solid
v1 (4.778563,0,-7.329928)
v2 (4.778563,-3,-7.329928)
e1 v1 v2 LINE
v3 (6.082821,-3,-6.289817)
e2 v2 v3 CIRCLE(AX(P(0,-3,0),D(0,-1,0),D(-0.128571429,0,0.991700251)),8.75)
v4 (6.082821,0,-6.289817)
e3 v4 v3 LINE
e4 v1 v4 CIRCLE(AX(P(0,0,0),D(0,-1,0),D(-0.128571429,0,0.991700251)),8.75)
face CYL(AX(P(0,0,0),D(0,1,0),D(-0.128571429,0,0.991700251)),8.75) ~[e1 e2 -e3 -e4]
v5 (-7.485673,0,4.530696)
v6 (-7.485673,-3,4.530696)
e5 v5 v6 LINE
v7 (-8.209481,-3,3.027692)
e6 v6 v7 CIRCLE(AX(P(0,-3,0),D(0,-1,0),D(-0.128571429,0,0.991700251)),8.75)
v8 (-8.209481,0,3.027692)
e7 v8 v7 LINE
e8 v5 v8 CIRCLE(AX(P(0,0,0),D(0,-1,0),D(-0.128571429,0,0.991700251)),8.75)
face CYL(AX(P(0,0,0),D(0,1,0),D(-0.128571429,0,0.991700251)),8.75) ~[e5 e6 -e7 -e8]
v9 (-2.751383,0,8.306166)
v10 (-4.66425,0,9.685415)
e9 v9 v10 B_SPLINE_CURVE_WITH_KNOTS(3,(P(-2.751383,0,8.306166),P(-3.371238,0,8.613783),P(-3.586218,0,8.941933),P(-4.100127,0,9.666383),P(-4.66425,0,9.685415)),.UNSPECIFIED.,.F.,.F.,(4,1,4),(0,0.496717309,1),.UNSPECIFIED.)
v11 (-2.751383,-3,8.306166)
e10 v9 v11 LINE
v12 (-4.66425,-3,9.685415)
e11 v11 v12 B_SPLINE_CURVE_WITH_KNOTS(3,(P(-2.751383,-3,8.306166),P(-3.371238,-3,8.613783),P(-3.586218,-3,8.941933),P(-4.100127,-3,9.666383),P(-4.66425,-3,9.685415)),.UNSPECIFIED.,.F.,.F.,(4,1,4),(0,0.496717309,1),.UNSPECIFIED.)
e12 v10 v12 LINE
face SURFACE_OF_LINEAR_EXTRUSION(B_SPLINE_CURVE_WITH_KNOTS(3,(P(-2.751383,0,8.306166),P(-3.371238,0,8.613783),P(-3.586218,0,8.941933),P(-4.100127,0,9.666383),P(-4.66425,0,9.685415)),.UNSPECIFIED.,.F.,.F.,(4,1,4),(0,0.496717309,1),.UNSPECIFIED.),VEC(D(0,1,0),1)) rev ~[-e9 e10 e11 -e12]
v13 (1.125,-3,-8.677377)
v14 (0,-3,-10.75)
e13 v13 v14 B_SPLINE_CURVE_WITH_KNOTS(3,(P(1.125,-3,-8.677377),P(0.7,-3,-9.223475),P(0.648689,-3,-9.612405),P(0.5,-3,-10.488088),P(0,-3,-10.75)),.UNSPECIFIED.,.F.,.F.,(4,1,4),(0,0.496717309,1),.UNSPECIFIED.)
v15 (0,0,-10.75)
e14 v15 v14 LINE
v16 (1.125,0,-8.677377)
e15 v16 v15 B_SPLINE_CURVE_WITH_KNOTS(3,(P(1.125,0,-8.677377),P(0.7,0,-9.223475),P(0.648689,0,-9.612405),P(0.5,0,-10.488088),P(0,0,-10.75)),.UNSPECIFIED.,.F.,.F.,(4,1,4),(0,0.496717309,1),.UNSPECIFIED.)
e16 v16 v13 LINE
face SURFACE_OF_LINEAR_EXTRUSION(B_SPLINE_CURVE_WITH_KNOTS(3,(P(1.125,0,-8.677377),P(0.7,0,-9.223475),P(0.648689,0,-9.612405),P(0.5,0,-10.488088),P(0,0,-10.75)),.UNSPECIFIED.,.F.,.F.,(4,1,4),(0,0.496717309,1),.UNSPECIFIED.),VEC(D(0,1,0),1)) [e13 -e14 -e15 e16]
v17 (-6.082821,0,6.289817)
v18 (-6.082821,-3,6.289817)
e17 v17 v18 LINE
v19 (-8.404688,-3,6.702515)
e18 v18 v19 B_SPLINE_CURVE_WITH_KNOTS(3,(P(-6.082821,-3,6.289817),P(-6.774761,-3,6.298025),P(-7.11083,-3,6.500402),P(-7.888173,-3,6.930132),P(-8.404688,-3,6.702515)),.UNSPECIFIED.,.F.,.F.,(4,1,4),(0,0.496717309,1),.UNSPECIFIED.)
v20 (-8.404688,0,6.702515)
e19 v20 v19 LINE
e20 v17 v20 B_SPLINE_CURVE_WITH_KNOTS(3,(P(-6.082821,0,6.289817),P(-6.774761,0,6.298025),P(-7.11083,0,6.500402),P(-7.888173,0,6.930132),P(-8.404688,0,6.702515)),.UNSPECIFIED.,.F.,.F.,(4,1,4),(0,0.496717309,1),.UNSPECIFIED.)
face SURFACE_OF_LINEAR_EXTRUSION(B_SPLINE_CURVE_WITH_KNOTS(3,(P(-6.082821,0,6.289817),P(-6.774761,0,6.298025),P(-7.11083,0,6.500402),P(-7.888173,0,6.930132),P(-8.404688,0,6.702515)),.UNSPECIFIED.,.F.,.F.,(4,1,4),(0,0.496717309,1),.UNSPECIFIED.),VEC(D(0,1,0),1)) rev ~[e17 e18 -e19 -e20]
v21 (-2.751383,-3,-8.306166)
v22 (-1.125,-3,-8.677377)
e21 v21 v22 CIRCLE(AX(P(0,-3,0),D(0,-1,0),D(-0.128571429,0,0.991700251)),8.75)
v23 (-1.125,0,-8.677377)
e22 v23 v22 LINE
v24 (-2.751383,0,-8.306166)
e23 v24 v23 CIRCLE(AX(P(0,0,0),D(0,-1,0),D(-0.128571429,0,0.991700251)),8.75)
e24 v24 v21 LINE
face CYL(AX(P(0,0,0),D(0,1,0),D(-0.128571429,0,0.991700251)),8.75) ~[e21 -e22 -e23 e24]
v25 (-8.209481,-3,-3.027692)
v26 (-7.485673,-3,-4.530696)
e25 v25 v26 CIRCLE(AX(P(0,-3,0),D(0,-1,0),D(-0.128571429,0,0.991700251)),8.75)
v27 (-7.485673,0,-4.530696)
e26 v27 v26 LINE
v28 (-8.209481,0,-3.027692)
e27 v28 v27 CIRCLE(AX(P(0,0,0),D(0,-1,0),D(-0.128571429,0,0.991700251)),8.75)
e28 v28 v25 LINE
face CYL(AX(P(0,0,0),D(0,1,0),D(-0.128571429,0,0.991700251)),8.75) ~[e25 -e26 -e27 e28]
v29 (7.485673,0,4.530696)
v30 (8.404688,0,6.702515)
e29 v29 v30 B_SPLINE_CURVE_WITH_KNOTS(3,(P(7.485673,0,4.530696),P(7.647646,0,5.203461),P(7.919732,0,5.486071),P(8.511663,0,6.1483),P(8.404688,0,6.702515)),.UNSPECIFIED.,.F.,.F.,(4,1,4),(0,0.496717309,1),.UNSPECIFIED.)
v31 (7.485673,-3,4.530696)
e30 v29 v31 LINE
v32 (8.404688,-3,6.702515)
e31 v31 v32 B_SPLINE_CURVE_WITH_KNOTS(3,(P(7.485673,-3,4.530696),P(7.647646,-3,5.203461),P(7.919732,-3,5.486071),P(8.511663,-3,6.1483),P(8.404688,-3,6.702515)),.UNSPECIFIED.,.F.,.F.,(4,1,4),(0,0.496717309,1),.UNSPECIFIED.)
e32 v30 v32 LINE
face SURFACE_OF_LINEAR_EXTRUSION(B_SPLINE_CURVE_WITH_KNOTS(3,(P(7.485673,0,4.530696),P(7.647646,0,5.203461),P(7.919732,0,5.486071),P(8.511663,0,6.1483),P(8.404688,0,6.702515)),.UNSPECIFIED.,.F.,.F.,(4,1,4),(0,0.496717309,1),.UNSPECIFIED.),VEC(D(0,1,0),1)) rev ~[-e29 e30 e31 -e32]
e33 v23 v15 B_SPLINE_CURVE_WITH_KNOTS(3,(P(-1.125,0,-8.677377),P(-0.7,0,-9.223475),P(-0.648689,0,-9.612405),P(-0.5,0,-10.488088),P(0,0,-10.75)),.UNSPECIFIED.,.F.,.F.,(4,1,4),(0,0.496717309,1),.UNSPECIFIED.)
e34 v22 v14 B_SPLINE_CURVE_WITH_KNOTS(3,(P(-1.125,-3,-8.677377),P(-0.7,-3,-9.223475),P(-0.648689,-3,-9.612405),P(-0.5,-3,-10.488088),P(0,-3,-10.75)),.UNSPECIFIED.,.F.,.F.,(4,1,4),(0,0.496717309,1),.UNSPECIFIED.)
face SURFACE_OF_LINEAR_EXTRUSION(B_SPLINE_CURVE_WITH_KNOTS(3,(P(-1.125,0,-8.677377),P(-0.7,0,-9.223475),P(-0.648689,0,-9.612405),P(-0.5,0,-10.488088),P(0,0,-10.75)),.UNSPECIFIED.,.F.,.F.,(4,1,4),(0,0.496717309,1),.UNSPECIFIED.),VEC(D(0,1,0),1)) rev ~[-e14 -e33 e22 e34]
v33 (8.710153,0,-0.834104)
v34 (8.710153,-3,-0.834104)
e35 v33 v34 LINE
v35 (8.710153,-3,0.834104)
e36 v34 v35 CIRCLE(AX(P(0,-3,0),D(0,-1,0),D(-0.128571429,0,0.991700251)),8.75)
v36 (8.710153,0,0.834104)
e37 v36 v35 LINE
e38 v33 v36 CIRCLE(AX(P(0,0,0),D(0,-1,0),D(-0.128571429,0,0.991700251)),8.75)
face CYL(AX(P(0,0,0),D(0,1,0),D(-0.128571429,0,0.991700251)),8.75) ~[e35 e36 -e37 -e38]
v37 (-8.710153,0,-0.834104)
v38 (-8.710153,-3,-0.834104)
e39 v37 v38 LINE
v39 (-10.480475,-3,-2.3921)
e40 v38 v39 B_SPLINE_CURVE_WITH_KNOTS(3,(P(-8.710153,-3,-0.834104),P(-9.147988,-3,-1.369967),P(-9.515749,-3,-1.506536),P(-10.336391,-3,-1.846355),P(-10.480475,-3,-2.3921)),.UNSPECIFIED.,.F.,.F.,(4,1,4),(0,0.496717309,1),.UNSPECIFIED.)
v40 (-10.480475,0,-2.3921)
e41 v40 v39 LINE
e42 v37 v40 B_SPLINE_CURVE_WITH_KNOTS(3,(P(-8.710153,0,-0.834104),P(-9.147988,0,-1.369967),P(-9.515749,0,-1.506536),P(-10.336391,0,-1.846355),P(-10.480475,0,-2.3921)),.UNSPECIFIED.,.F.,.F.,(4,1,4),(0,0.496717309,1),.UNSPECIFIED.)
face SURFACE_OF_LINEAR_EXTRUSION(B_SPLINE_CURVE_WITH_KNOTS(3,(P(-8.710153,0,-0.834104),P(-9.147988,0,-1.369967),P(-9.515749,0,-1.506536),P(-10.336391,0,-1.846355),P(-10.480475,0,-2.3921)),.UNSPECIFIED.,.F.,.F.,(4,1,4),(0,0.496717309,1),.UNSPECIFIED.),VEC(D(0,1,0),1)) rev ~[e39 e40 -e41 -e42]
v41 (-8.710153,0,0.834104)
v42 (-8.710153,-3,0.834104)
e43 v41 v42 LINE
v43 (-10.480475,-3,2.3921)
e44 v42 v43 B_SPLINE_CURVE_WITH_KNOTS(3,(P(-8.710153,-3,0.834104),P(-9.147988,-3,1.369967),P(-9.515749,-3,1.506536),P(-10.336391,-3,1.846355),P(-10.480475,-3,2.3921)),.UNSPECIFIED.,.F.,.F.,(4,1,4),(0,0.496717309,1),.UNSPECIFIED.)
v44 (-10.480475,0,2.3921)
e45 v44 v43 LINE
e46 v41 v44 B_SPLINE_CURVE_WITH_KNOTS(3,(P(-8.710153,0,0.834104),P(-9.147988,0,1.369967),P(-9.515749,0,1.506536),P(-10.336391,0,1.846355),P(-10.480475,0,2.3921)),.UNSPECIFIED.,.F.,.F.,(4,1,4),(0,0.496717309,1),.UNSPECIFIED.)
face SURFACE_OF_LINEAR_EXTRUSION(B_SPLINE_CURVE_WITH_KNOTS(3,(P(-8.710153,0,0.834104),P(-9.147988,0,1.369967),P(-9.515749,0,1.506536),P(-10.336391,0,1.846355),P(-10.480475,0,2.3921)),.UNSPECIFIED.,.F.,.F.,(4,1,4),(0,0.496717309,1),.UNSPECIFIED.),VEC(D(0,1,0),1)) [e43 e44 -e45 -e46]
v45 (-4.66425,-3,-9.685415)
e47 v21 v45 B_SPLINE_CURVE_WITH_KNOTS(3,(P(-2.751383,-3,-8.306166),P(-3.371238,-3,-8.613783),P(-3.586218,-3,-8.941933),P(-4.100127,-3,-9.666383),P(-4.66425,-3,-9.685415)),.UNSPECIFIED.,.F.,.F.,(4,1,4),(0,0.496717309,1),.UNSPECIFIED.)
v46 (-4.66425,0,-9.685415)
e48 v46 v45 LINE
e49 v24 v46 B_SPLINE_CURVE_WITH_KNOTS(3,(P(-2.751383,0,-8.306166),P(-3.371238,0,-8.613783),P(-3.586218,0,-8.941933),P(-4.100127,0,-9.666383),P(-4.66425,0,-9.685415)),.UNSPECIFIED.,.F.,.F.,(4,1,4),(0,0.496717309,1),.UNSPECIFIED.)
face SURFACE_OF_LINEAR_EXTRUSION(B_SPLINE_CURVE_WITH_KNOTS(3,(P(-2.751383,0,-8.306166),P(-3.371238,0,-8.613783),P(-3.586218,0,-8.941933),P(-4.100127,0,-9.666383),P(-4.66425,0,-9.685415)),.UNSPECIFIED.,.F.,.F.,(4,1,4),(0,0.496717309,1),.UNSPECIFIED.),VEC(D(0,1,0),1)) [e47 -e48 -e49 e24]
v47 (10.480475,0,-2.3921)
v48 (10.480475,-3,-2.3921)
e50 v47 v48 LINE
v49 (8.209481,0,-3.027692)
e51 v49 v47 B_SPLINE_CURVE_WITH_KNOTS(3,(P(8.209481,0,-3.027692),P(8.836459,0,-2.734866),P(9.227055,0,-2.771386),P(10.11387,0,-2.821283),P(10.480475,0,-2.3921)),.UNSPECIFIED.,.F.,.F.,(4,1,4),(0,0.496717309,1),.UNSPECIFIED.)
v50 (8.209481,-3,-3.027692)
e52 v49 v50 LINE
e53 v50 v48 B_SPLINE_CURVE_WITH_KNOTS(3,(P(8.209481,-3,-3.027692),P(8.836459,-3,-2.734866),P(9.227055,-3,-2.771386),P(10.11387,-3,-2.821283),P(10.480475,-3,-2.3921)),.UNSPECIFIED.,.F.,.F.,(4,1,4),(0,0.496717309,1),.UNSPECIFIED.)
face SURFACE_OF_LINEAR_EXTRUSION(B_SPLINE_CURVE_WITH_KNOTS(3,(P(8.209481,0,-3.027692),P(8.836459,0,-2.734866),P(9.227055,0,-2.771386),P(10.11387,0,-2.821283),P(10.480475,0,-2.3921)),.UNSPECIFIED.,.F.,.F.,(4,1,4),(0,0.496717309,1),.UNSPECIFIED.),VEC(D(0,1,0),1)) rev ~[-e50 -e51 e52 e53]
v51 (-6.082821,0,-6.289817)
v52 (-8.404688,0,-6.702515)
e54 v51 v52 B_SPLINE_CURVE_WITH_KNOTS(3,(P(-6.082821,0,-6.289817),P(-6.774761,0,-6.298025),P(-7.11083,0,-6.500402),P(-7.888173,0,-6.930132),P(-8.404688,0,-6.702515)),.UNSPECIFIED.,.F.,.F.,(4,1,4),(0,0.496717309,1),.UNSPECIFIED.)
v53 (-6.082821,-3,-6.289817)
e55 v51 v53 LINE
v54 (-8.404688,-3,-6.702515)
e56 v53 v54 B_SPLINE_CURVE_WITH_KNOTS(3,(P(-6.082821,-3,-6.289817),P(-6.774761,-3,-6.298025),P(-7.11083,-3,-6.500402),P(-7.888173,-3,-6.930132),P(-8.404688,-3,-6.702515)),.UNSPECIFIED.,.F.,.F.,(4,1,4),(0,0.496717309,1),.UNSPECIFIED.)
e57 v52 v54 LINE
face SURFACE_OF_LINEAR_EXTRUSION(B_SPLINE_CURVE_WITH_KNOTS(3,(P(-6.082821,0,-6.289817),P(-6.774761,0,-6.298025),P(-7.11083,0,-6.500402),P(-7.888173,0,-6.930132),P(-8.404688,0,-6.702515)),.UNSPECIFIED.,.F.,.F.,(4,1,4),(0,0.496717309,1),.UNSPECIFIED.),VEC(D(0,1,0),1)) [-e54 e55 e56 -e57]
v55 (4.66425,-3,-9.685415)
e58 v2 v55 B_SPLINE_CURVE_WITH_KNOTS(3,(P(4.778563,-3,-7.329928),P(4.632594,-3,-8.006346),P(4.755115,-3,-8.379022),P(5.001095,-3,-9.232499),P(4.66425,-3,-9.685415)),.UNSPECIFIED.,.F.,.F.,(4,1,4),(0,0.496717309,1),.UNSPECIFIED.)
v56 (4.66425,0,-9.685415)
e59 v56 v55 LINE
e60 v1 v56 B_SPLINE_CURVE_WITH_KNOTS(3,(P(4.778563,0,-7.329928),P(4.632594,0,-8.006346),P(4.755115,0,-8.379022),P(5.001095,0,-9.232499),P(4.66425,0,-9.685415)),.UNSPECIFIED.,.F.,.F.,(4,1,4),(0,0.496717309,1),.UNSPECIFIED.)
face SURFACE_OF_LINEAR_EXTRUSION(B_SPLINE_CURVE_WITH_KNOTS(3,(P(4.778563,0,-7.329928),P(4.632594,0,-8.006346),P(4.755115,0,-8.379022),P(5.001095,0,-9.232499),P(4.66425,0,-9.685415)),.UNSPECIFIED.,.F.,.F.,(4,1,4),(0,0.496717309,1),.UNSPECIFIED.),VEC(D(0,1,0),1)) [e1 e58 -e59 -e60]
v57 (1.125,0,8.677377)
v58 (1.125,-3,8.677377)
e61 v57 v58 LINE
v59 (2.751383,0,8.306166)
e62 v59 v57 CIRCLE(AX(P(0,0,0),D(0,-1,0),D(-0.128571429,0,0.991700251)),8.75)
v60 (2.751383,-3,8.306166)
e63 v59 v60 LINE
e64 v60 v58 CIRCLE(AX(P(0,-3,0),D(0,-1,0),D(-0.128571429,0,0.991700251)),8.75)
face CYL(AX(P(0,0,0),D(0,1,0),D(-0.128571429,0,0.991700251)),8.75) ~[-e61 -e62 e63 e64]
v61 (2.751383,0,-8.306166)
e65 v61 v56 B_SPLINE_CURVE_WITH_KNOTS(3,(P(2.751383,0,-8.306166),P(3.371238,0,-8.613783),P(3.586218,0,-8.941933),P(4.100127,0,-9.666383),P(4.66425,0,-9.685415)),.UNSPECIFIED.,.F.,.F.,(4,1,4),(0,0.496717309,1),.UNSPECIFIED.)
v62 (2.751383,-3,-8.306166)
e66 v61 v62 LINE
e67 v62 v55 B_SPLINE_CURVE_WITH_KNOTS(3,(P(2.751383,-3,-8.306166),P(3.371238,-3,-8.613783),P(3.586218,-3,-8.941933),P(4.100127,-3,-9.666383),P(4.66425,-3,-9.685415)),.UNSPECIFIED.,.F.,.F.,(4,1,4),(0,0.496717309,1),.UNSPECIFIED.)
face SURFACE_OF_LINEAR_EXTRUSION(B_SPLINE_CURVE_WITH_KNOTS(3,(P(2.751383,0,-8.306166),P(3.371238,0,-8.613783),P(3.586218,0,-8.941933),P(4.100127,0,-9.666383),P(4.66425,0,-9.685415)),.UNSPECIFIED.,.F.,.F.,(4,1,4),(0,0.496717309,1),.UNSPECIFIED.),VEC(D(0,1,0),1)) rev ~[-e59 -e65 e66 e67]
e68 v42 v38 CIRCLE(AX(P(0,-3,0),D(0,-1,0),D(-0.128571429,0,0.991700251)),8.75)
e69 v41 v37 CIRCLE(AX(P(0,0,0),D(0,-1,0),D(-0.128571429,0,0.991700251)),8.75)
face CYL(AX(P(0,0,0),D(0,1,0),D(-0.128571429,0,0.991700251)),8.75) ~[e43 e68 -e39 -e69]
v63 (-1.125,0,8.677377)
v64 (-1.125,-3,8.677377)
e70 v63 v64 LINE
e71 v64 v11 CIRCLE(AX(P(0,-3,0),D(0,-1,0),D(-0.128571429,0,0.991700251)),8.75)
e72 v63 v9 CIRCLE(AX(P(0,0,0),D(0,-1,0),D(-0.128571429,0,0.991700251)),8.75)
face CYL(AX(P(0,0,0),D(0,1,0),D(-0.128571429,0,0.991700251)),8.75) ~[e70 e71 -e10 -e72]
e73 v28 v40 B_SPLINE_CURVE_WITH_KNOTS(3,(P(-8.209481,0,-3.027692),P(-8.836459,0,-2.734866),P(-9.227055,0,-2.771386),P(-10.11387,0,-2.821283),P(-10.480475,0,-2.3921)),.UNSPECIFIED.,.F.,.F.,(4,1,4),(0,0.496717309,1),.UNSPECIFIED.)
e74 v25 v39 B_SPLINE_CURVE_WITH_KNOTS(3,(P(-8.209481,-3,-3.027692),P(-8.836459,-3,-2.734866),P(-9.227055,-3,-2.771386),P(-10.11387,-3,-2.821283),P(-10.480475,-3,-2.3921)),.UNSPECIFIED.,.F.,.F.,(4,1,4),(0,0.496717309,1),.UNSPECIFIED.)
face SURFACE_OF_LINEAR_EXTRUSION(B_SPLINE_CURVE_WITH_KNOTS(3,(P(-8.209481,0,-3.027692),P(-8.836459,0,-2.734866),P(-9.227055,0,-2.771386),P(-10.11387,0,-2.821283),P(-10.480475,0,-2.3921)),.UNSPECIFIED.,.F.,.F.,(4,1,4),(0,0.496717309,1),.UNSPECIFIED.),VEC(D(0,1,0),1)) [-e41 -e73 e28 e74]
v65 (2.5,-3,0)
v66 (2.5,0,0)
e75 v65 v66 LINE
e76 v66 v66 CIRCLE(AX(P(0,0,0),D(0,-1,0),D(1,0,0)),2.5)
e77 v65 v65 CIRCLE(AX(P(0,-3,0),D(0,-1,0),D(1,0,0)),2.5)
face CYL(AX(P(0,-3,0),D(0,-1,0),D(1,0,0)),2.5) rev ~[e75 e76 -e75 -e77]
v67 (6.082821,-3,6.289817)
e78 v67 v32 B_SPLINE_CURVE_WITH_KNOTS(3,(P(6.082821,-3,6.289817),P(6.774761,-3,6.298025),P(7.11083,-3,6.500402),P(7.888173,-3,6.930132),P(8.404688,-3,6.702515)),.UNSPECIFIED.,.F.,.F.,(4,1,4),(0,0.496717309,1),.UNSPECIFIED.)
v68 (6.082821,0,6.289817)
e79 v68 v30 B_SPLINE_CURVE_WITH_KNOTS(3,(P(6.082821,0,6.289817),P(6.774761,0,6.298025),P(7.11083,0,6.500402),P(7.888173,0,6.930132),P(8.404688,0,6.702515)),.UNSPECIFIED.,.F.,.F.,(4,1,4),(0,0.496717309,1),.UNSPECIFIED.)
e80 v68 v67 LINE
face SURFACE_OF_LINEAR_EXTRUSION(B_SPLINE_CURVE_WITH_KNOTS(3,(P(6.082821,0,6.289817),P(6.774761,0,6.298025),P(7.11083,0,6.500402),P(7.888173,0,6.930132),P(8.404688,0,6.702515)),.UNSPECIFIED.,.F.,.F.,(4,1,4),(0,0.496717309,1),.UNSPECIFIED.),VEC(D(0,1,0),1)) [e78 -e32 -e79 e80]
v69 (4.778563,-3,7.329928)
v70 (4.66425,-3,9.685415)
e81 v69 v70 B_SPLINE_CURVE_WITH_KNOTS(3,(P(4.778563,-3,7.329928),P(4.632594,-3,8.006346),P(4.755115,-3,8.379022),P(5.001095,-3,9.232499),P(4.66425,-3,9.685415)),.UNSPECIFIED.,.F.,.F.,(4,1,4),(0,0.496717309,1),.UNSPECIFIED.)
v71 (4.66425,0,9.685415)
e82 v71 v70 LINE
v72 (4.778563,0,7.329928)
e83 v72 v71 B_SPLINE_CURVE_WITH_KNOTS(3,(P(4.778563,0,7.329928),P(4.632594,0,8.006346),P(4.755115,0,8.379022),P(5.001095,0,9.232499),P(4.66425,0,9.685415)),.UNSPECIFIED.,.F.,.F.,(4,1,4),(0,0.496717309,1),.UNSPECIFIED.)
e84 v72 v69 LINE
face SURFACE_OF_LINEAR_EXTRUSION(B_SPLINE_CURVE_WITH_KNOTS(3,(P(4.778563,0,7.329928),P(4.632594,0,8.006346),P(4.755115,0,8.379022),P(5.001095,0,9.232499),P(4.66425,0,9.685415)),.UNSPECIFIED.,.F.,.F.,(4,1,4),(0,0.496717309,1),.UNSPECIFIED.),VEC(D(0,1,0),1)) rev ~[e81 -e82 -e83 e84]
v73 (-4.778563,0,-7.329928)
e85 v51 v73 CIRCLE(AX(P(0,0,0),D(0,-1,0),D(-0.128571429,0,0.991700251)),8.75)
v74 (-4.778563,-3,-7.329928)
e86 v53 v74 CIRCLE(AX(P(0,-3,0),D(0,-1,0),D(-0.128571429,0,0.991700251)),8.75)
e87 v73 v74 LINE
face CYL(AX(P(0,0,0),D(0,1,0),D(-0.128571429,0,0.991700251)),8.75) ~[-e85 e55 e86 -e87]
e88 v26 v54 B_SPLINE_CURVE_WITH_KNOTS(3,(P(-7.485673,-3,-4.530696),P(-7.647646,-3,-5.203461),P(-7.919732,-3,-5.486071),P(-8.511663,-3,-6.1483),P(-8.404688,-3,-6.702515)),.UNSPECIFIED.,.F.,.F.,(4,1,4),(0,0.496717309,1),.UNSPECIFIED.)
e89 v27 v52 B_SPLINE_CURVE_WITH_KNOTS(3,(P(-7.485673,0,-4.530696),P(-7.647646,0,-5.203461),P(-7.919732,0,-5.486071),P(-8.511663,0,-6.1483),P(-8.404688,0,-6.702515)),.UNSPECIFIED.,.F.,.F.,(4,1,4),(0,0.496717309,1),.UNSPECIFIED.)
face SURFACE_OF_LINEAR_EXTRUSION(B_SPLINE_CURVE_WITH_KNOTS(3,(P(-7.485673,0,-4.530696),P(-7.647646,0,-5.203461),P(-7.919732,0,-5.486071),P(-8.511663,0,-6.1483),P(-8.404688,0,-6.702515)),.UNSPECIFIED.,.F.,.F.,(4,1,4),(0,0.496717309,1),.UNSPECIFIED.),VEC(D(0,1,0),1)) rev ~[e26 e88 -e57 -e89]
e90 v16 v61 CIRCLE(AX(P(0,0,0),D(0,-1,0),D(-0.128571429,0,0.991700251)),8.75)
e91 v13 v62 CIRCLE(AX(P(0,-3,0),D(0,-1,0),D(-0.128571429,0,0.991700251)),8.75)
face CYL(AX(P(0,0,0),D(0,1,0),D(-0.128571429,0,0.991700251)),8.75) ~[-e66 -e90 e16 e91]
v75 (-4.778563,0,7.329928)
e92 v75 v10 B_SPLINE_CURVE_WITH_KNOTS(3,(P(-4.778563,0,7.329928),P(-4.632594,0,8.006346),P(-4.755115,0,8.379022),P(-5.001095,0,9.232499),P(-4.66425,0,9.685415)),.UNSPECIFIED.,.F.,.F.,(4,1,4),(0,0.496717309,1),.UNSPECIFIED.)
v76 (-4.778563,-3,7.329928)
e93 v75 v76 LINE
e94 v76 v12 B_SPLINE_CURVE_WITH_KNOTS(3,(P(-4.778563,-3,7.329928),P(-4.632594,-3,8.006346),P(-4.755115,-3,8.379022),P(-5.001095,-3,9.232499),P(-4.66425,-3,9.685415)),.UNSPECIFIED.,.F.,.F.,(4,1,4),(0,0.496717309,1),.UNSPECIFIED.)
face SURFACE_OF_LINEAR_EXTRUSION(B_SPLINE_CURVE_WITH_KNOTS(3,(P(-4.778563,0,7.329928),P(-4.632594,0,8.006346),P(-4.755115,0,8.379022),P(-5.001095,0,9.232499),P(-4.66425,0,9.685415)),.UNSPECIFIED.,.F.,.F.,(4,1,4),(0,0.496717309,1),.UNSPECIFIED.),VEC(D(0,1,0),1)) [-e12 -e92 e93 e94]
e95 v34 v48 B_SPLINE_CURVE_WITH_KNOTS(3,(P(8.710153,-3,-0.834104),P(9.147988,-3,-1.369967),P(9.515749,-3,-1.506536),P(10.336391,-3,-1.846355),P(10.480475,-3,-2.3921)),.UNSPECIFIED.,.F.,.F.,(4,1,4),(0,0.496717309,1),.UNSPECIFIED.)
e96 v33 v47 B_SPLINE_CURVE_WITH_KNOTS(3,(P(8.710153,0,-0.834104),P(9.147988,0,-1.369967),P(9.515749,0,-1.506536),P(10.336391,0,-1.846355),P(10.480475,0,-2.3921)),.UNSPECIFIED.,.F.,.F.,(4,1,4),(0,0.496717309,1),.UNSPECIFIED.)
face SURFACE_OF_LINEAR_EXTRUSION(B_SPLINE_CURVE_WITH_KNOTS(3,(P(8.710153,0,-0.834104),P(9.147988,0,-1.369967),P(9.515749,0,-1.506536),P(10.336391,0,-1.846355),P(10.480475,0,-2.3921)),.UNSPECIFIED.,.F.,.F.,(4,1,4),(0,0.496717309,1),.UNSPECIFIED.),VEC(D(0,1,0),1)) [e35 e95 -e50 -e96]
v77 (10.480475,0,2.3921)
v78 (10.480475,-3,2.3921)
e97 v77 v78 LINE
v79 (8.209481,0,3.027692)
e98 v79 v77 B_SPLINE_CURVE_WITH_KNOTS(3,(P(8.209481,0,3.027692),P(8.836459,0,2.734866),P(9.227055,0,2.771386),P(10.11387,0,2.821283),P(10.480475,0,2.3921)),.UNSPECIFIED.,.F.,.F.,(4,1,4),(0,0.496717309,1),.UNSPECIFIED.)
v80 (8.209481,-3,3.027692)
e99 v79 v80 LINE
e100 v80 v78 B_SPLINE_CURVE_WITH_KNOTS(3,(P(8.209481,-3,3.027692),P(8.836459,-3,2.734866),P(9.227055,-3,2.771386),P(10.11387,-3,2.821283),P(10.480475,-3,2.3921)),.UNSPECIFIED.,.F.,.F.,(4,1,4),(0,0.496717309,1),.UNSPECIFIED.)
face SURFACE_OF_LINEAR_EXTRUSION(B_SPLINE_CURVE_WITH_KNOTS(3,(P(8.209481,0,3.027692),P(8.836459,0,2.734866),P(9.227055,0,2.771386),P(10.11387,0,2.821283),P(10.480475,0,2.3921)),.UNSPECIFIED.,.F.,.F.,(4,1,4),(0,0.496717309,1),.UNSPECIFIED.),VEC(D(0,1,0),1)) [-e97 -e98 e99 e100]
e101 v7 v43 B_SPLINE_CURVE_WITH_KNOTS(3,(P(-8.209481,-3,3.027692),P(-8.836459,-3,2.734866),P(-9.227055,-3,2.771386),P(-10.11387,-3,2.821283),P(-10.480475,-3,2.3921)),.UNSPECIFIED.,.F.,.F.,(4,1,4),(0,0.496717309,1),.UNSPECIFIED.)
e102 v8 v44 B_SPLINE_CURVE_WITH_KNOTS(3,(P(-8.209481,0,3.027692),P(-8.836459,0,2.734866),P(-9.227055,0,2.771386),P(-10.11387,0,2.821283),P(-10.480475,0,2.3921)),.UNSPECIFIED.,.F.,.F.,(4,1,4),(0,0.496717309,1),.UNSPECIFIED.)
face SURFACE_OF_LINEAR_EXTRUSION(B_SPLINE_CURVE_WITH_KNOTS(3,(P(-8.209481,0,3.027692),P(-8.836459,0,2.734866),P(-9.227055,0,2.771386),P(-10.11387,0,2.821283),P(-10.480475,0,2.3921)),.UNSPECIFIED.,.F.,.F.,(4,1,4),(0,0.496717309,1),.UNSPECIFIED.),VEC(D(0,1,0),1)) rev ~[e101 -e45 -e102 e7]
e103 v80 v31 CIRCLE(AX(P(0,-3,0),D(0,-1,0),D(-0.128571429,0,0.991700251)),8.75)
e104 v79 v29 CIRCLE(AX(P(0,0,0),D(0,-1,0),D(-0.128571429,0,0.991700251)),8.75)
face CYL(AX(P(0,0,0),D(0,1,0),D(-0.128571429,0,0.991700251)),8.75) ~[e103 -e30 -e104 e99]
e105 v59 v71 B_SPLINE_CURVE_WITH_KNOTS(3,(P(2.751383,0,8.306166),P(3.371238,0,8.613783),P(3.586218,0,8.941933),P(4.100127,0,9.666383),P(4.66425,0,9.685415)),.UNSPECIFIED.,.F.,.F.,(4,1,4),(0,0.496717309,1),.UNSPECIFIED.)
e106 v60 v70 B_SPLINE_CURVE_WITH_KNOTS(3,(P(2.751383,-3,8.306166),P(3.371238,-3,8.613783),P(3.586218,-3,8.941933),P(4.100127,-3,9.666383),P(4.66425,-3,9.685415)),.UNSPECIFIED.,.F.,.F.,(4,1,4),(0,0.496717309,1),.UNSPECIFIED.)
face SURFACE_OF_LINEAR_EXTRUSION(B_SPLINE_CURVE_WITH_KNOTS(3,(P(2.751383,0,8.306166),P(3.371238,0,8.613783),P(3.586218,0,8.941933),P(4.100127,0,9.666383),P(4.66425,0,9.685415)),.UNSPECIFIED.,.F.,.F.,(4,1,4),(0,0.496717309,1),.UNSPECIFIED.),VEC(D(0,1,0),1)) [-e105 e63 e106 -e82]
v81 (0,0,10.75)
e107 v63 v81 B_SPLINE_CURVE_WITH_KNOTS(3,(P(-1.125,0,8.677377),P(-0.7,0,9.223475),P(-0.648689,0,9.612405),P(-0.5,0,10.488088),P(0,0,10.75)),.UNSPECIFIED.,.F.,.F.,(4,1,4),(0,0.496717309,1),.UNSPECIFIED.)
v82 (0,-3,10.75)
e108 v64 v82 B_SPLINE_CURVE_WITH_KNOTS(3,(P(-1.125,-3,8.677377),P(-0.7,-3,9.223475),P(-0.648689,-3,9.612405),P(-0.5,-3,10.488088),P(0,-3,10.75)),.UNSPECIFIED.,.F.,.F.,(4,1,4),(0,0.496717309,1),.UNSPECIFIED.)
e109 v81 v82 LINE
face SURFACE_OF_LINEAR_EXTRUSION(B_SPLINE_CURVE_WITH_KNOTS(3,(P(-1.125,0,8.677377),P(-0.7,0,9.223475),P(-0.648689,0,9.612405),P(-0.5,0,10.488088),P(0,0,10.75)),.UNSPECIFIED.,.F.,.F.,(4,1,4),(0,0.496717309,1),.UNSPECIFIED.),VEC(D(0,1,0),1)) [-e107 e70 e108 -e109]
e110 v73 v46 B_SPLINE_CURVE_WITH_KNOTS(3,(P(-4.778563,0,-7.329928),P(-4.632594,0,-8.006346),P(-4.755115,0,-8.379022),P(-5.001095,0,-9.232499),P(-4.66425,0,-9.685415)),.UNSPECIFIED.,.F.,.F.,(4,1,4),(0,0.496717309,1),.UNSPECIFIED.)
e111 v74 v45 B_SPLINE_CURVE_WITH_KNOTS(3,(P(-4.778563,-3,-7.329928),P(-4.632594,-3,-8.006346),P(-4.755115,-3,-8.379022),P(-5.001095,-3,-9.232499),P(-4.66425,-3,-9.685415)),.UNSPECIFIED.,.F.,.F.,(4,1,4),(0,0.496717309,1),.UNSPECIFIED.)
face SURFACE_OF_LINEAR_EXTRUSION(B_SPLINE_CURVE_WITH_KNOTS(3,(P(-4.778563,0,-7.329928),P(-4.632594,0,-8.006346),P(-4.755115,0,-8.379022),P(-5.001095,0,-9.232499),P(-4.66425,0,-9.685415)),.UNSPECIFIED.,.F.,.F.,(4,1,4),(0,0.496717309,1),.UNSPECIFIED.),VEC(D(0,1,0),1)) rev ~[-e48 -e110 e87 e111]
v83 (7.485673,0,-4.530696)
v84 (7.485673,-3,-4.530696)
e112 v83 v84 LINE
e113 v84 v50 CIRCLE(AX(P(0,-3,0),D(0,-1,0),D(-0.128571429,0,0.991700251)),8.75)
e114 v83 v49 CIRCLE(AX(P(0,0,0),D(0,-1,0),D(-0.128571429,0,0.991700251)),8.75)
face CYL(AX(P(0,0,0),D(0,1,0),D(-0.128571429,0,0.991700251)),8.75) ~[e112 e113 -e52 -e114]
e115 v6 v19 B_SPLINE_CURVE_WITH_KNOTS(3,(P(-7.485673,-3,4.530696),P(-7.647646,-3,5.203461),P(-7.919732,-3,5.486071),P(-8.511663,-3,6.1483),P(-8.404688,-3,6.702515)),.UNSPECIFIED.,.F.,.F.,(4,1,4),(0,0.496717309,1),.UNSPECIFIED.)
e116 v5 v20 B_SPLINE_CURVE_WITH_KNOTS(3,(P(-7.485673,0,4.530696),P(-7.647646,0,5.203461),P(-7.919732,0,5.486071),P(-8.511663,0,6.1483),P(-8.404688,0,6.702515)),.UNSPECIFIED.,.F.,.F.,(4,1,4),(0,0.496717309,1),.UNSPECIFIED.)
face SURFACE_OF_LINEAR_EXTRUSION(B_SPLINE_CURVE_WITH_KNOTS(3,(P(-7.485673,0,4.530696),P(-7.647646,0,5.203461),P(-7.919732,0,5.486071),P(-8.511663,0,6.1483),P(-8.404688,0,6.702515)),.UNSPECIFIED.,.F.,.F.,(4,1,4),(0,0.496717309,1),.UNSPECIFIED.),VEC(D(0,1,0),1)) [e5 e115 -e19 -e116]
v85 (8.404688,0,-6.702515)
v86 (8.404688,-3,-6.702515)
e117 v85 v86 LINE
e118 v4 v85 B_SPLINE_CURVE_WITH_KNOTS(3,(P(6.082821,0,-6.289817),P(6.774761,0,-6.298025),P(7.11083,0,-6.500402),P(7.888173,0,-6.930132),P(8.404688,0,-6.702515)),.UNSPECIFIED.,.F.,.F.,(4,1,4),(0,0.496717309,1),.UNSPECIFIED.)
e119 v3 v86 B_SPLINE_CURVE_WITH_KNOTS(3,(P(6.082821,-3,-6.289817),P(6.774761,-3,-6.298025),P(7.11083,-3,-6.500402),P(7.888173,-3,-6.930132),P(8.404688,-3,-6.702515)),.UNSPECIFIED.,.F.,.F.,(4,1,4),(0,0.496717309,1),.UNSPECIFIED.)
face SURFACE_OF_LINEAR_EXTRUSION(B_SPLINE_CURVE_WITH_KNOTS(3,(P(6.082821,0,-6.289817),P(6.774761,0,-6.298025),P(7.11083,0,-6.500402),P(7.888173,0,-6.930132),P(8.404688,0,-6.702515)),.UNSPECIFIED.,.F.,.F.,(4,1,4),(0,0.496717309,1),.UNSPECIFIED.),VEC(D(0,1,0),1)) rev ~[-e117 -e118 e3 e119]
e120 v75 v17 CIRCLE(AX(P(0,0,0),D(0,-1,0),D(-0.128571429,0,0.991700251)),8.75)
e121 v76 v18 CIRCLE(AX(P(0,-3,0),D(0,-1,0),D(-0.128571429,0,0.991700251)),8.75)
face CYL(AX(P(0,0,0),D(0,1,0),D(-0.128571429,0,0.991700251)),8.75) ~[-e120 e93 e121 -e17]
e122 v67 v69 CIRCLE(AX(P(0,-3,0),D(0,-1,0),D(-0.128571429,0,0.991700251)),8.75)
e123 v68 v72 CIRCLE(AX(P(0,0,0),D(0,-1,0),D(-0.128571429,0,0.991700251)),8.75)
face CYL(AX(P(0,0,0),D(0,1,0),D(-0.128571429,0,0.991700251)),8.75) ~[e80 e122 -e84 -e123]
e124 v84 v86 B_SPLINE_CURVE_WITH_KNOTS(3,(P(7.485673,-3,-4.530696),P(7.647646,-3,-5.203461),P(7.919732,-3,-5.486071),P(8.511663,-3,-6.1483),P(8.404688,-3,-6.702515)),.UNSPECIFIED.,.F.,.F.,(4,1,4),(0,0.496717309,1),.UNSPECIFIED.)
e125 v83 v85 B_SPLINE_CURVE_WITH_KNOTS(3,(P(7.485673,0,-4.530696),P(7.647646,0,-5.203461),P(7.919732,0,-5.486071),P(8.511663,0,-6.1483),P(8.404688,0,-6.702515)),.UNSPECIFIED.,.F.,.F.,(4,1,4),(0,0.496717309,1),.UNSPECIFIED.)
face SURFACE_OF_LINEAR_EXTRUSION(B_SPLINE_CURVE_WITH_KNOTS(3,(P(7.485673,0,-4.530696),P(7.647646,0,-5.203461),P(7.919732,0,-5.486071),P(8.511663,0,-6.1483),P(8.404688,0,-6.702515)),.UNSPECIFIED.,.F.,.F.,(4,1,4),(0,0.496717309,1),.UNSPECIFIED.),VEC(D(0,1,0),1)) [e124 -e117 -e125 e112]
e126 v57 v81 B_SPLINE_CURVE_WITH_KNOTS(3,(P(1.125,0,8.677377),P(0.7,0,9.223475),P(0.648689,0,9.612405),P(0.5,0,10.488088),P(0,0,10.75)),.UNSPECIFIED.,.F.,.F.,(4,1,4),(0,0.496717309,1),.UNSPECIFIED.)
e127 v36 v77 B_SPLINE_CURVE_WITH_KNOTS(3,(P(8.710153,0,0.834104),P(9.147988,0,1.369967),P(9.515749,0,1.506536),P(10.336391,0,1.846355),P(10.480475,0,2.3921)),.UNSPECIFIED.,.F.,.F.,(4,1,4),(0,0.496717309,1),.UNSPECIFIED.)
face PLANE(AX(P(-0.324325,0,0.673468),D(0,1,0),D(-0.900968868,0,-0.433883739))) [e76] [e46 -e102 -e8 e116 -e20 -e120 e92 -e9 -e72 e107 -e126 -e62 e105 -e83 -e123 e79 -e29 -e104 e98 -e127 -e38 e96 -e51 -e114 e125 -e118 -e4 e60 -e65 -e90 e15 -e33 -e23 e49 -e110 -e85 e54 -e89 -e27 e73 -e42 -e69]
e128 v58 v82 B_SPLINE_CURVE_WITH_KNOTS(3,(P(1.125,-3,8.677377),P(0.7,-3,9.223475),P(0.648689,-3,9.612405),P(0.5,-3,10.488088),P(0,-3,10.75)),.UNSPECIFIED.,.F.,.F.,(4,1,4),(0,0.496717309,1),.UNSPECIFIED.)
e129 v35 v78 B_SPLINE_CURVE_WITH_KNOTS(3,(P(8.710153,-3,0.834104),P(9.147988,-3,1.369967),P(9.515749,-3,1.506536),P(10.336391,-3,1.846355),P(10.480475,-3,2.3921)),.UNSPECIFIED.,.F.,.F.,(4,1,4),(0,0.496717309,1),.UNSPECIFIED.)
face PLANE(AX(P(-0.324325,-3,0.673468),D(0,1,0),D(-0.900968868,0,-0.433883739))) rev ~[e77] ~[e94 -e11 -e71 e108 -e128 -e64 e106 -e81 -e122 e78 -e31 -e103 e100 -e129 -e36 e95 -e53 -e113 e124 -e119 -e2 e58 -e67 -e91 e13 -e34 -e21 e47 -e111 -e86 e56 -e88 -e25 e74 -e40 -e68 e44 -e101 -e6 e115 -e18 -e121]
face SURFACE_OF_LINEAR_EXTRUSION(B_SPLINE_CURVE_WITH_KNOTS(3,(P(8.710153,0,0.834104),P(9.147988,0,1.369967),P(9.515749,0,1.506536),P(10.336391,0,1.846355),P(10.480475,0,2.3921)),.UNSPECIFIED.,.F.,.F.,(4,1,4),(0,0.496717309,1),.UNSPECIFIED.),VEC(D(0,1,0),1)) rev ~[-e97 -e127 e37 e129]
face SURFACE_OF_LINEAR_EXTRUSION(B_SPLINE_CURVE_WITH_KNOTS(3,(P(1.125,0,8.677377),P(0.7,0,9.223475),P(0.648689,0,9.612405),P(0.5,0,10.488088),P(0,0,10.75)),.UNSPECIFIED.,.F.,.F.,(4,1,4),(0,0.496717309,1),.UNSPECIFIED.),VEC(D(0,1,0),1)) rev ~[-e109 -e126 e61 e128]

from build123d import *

# Parameters (mm, degrees)
F1_DEPTH = 3
F3_COUNT = 14
F4_R     = 2.5
F5_DEPTH = 3


with BuildPart() as f1:
    # F0 (on Front) → F1 (new body)
    with BuildSketch(Plane.XZ):
        with BuildLine():
            add(Edge.make_bspline(
                [(-1.125, 8.6773771959), (-0.7, 9.2234754838), (-0.6486890223, 9.6124048493), (-0.5, 10.4880884817), (0, 10.75)],
                knots=[0, 0, 0, 0, 0.4967173091, 1, 1, 1, 1], degree=3))
            ThreePointArc((-1.125, 8.6773771959), (0, -8.75), (1.125, 8.6773771959))
            add(Edge.make_bspline(
                [(1.125, 8.6773771959), (0.7, 9.2234754838), (0.6486890223, 9.6124048493), (0.5, 10.4880884817), (0, 10.75)],
                knots=[0, 0, 0, 0, 0.4967173091, 1, 1, 1, 1], degree=3))
        make_face()
    extrude(amount=F1_DEPTH)

    # F3: F1 ×14 about axis
    f3_axis = Axis((0, 2.5461101905, 0), (0, 1, 0))


with BuildPart() as f1_1:
    add(f1.part)
    for i in range(1, F3_COUNT):
        add(f1.part.rotate(f3_axis, i * 360 / F3_COUNT))

    # F4 (on face) → F5 (cut, through all)
    with BuildSketch(Plane.XZ.offset(3)):
        Circle(F4_R)
    extrude(amount=-F5_DEPTH, mode=Mode.SUBTRACT)


solid = f1_1.part
